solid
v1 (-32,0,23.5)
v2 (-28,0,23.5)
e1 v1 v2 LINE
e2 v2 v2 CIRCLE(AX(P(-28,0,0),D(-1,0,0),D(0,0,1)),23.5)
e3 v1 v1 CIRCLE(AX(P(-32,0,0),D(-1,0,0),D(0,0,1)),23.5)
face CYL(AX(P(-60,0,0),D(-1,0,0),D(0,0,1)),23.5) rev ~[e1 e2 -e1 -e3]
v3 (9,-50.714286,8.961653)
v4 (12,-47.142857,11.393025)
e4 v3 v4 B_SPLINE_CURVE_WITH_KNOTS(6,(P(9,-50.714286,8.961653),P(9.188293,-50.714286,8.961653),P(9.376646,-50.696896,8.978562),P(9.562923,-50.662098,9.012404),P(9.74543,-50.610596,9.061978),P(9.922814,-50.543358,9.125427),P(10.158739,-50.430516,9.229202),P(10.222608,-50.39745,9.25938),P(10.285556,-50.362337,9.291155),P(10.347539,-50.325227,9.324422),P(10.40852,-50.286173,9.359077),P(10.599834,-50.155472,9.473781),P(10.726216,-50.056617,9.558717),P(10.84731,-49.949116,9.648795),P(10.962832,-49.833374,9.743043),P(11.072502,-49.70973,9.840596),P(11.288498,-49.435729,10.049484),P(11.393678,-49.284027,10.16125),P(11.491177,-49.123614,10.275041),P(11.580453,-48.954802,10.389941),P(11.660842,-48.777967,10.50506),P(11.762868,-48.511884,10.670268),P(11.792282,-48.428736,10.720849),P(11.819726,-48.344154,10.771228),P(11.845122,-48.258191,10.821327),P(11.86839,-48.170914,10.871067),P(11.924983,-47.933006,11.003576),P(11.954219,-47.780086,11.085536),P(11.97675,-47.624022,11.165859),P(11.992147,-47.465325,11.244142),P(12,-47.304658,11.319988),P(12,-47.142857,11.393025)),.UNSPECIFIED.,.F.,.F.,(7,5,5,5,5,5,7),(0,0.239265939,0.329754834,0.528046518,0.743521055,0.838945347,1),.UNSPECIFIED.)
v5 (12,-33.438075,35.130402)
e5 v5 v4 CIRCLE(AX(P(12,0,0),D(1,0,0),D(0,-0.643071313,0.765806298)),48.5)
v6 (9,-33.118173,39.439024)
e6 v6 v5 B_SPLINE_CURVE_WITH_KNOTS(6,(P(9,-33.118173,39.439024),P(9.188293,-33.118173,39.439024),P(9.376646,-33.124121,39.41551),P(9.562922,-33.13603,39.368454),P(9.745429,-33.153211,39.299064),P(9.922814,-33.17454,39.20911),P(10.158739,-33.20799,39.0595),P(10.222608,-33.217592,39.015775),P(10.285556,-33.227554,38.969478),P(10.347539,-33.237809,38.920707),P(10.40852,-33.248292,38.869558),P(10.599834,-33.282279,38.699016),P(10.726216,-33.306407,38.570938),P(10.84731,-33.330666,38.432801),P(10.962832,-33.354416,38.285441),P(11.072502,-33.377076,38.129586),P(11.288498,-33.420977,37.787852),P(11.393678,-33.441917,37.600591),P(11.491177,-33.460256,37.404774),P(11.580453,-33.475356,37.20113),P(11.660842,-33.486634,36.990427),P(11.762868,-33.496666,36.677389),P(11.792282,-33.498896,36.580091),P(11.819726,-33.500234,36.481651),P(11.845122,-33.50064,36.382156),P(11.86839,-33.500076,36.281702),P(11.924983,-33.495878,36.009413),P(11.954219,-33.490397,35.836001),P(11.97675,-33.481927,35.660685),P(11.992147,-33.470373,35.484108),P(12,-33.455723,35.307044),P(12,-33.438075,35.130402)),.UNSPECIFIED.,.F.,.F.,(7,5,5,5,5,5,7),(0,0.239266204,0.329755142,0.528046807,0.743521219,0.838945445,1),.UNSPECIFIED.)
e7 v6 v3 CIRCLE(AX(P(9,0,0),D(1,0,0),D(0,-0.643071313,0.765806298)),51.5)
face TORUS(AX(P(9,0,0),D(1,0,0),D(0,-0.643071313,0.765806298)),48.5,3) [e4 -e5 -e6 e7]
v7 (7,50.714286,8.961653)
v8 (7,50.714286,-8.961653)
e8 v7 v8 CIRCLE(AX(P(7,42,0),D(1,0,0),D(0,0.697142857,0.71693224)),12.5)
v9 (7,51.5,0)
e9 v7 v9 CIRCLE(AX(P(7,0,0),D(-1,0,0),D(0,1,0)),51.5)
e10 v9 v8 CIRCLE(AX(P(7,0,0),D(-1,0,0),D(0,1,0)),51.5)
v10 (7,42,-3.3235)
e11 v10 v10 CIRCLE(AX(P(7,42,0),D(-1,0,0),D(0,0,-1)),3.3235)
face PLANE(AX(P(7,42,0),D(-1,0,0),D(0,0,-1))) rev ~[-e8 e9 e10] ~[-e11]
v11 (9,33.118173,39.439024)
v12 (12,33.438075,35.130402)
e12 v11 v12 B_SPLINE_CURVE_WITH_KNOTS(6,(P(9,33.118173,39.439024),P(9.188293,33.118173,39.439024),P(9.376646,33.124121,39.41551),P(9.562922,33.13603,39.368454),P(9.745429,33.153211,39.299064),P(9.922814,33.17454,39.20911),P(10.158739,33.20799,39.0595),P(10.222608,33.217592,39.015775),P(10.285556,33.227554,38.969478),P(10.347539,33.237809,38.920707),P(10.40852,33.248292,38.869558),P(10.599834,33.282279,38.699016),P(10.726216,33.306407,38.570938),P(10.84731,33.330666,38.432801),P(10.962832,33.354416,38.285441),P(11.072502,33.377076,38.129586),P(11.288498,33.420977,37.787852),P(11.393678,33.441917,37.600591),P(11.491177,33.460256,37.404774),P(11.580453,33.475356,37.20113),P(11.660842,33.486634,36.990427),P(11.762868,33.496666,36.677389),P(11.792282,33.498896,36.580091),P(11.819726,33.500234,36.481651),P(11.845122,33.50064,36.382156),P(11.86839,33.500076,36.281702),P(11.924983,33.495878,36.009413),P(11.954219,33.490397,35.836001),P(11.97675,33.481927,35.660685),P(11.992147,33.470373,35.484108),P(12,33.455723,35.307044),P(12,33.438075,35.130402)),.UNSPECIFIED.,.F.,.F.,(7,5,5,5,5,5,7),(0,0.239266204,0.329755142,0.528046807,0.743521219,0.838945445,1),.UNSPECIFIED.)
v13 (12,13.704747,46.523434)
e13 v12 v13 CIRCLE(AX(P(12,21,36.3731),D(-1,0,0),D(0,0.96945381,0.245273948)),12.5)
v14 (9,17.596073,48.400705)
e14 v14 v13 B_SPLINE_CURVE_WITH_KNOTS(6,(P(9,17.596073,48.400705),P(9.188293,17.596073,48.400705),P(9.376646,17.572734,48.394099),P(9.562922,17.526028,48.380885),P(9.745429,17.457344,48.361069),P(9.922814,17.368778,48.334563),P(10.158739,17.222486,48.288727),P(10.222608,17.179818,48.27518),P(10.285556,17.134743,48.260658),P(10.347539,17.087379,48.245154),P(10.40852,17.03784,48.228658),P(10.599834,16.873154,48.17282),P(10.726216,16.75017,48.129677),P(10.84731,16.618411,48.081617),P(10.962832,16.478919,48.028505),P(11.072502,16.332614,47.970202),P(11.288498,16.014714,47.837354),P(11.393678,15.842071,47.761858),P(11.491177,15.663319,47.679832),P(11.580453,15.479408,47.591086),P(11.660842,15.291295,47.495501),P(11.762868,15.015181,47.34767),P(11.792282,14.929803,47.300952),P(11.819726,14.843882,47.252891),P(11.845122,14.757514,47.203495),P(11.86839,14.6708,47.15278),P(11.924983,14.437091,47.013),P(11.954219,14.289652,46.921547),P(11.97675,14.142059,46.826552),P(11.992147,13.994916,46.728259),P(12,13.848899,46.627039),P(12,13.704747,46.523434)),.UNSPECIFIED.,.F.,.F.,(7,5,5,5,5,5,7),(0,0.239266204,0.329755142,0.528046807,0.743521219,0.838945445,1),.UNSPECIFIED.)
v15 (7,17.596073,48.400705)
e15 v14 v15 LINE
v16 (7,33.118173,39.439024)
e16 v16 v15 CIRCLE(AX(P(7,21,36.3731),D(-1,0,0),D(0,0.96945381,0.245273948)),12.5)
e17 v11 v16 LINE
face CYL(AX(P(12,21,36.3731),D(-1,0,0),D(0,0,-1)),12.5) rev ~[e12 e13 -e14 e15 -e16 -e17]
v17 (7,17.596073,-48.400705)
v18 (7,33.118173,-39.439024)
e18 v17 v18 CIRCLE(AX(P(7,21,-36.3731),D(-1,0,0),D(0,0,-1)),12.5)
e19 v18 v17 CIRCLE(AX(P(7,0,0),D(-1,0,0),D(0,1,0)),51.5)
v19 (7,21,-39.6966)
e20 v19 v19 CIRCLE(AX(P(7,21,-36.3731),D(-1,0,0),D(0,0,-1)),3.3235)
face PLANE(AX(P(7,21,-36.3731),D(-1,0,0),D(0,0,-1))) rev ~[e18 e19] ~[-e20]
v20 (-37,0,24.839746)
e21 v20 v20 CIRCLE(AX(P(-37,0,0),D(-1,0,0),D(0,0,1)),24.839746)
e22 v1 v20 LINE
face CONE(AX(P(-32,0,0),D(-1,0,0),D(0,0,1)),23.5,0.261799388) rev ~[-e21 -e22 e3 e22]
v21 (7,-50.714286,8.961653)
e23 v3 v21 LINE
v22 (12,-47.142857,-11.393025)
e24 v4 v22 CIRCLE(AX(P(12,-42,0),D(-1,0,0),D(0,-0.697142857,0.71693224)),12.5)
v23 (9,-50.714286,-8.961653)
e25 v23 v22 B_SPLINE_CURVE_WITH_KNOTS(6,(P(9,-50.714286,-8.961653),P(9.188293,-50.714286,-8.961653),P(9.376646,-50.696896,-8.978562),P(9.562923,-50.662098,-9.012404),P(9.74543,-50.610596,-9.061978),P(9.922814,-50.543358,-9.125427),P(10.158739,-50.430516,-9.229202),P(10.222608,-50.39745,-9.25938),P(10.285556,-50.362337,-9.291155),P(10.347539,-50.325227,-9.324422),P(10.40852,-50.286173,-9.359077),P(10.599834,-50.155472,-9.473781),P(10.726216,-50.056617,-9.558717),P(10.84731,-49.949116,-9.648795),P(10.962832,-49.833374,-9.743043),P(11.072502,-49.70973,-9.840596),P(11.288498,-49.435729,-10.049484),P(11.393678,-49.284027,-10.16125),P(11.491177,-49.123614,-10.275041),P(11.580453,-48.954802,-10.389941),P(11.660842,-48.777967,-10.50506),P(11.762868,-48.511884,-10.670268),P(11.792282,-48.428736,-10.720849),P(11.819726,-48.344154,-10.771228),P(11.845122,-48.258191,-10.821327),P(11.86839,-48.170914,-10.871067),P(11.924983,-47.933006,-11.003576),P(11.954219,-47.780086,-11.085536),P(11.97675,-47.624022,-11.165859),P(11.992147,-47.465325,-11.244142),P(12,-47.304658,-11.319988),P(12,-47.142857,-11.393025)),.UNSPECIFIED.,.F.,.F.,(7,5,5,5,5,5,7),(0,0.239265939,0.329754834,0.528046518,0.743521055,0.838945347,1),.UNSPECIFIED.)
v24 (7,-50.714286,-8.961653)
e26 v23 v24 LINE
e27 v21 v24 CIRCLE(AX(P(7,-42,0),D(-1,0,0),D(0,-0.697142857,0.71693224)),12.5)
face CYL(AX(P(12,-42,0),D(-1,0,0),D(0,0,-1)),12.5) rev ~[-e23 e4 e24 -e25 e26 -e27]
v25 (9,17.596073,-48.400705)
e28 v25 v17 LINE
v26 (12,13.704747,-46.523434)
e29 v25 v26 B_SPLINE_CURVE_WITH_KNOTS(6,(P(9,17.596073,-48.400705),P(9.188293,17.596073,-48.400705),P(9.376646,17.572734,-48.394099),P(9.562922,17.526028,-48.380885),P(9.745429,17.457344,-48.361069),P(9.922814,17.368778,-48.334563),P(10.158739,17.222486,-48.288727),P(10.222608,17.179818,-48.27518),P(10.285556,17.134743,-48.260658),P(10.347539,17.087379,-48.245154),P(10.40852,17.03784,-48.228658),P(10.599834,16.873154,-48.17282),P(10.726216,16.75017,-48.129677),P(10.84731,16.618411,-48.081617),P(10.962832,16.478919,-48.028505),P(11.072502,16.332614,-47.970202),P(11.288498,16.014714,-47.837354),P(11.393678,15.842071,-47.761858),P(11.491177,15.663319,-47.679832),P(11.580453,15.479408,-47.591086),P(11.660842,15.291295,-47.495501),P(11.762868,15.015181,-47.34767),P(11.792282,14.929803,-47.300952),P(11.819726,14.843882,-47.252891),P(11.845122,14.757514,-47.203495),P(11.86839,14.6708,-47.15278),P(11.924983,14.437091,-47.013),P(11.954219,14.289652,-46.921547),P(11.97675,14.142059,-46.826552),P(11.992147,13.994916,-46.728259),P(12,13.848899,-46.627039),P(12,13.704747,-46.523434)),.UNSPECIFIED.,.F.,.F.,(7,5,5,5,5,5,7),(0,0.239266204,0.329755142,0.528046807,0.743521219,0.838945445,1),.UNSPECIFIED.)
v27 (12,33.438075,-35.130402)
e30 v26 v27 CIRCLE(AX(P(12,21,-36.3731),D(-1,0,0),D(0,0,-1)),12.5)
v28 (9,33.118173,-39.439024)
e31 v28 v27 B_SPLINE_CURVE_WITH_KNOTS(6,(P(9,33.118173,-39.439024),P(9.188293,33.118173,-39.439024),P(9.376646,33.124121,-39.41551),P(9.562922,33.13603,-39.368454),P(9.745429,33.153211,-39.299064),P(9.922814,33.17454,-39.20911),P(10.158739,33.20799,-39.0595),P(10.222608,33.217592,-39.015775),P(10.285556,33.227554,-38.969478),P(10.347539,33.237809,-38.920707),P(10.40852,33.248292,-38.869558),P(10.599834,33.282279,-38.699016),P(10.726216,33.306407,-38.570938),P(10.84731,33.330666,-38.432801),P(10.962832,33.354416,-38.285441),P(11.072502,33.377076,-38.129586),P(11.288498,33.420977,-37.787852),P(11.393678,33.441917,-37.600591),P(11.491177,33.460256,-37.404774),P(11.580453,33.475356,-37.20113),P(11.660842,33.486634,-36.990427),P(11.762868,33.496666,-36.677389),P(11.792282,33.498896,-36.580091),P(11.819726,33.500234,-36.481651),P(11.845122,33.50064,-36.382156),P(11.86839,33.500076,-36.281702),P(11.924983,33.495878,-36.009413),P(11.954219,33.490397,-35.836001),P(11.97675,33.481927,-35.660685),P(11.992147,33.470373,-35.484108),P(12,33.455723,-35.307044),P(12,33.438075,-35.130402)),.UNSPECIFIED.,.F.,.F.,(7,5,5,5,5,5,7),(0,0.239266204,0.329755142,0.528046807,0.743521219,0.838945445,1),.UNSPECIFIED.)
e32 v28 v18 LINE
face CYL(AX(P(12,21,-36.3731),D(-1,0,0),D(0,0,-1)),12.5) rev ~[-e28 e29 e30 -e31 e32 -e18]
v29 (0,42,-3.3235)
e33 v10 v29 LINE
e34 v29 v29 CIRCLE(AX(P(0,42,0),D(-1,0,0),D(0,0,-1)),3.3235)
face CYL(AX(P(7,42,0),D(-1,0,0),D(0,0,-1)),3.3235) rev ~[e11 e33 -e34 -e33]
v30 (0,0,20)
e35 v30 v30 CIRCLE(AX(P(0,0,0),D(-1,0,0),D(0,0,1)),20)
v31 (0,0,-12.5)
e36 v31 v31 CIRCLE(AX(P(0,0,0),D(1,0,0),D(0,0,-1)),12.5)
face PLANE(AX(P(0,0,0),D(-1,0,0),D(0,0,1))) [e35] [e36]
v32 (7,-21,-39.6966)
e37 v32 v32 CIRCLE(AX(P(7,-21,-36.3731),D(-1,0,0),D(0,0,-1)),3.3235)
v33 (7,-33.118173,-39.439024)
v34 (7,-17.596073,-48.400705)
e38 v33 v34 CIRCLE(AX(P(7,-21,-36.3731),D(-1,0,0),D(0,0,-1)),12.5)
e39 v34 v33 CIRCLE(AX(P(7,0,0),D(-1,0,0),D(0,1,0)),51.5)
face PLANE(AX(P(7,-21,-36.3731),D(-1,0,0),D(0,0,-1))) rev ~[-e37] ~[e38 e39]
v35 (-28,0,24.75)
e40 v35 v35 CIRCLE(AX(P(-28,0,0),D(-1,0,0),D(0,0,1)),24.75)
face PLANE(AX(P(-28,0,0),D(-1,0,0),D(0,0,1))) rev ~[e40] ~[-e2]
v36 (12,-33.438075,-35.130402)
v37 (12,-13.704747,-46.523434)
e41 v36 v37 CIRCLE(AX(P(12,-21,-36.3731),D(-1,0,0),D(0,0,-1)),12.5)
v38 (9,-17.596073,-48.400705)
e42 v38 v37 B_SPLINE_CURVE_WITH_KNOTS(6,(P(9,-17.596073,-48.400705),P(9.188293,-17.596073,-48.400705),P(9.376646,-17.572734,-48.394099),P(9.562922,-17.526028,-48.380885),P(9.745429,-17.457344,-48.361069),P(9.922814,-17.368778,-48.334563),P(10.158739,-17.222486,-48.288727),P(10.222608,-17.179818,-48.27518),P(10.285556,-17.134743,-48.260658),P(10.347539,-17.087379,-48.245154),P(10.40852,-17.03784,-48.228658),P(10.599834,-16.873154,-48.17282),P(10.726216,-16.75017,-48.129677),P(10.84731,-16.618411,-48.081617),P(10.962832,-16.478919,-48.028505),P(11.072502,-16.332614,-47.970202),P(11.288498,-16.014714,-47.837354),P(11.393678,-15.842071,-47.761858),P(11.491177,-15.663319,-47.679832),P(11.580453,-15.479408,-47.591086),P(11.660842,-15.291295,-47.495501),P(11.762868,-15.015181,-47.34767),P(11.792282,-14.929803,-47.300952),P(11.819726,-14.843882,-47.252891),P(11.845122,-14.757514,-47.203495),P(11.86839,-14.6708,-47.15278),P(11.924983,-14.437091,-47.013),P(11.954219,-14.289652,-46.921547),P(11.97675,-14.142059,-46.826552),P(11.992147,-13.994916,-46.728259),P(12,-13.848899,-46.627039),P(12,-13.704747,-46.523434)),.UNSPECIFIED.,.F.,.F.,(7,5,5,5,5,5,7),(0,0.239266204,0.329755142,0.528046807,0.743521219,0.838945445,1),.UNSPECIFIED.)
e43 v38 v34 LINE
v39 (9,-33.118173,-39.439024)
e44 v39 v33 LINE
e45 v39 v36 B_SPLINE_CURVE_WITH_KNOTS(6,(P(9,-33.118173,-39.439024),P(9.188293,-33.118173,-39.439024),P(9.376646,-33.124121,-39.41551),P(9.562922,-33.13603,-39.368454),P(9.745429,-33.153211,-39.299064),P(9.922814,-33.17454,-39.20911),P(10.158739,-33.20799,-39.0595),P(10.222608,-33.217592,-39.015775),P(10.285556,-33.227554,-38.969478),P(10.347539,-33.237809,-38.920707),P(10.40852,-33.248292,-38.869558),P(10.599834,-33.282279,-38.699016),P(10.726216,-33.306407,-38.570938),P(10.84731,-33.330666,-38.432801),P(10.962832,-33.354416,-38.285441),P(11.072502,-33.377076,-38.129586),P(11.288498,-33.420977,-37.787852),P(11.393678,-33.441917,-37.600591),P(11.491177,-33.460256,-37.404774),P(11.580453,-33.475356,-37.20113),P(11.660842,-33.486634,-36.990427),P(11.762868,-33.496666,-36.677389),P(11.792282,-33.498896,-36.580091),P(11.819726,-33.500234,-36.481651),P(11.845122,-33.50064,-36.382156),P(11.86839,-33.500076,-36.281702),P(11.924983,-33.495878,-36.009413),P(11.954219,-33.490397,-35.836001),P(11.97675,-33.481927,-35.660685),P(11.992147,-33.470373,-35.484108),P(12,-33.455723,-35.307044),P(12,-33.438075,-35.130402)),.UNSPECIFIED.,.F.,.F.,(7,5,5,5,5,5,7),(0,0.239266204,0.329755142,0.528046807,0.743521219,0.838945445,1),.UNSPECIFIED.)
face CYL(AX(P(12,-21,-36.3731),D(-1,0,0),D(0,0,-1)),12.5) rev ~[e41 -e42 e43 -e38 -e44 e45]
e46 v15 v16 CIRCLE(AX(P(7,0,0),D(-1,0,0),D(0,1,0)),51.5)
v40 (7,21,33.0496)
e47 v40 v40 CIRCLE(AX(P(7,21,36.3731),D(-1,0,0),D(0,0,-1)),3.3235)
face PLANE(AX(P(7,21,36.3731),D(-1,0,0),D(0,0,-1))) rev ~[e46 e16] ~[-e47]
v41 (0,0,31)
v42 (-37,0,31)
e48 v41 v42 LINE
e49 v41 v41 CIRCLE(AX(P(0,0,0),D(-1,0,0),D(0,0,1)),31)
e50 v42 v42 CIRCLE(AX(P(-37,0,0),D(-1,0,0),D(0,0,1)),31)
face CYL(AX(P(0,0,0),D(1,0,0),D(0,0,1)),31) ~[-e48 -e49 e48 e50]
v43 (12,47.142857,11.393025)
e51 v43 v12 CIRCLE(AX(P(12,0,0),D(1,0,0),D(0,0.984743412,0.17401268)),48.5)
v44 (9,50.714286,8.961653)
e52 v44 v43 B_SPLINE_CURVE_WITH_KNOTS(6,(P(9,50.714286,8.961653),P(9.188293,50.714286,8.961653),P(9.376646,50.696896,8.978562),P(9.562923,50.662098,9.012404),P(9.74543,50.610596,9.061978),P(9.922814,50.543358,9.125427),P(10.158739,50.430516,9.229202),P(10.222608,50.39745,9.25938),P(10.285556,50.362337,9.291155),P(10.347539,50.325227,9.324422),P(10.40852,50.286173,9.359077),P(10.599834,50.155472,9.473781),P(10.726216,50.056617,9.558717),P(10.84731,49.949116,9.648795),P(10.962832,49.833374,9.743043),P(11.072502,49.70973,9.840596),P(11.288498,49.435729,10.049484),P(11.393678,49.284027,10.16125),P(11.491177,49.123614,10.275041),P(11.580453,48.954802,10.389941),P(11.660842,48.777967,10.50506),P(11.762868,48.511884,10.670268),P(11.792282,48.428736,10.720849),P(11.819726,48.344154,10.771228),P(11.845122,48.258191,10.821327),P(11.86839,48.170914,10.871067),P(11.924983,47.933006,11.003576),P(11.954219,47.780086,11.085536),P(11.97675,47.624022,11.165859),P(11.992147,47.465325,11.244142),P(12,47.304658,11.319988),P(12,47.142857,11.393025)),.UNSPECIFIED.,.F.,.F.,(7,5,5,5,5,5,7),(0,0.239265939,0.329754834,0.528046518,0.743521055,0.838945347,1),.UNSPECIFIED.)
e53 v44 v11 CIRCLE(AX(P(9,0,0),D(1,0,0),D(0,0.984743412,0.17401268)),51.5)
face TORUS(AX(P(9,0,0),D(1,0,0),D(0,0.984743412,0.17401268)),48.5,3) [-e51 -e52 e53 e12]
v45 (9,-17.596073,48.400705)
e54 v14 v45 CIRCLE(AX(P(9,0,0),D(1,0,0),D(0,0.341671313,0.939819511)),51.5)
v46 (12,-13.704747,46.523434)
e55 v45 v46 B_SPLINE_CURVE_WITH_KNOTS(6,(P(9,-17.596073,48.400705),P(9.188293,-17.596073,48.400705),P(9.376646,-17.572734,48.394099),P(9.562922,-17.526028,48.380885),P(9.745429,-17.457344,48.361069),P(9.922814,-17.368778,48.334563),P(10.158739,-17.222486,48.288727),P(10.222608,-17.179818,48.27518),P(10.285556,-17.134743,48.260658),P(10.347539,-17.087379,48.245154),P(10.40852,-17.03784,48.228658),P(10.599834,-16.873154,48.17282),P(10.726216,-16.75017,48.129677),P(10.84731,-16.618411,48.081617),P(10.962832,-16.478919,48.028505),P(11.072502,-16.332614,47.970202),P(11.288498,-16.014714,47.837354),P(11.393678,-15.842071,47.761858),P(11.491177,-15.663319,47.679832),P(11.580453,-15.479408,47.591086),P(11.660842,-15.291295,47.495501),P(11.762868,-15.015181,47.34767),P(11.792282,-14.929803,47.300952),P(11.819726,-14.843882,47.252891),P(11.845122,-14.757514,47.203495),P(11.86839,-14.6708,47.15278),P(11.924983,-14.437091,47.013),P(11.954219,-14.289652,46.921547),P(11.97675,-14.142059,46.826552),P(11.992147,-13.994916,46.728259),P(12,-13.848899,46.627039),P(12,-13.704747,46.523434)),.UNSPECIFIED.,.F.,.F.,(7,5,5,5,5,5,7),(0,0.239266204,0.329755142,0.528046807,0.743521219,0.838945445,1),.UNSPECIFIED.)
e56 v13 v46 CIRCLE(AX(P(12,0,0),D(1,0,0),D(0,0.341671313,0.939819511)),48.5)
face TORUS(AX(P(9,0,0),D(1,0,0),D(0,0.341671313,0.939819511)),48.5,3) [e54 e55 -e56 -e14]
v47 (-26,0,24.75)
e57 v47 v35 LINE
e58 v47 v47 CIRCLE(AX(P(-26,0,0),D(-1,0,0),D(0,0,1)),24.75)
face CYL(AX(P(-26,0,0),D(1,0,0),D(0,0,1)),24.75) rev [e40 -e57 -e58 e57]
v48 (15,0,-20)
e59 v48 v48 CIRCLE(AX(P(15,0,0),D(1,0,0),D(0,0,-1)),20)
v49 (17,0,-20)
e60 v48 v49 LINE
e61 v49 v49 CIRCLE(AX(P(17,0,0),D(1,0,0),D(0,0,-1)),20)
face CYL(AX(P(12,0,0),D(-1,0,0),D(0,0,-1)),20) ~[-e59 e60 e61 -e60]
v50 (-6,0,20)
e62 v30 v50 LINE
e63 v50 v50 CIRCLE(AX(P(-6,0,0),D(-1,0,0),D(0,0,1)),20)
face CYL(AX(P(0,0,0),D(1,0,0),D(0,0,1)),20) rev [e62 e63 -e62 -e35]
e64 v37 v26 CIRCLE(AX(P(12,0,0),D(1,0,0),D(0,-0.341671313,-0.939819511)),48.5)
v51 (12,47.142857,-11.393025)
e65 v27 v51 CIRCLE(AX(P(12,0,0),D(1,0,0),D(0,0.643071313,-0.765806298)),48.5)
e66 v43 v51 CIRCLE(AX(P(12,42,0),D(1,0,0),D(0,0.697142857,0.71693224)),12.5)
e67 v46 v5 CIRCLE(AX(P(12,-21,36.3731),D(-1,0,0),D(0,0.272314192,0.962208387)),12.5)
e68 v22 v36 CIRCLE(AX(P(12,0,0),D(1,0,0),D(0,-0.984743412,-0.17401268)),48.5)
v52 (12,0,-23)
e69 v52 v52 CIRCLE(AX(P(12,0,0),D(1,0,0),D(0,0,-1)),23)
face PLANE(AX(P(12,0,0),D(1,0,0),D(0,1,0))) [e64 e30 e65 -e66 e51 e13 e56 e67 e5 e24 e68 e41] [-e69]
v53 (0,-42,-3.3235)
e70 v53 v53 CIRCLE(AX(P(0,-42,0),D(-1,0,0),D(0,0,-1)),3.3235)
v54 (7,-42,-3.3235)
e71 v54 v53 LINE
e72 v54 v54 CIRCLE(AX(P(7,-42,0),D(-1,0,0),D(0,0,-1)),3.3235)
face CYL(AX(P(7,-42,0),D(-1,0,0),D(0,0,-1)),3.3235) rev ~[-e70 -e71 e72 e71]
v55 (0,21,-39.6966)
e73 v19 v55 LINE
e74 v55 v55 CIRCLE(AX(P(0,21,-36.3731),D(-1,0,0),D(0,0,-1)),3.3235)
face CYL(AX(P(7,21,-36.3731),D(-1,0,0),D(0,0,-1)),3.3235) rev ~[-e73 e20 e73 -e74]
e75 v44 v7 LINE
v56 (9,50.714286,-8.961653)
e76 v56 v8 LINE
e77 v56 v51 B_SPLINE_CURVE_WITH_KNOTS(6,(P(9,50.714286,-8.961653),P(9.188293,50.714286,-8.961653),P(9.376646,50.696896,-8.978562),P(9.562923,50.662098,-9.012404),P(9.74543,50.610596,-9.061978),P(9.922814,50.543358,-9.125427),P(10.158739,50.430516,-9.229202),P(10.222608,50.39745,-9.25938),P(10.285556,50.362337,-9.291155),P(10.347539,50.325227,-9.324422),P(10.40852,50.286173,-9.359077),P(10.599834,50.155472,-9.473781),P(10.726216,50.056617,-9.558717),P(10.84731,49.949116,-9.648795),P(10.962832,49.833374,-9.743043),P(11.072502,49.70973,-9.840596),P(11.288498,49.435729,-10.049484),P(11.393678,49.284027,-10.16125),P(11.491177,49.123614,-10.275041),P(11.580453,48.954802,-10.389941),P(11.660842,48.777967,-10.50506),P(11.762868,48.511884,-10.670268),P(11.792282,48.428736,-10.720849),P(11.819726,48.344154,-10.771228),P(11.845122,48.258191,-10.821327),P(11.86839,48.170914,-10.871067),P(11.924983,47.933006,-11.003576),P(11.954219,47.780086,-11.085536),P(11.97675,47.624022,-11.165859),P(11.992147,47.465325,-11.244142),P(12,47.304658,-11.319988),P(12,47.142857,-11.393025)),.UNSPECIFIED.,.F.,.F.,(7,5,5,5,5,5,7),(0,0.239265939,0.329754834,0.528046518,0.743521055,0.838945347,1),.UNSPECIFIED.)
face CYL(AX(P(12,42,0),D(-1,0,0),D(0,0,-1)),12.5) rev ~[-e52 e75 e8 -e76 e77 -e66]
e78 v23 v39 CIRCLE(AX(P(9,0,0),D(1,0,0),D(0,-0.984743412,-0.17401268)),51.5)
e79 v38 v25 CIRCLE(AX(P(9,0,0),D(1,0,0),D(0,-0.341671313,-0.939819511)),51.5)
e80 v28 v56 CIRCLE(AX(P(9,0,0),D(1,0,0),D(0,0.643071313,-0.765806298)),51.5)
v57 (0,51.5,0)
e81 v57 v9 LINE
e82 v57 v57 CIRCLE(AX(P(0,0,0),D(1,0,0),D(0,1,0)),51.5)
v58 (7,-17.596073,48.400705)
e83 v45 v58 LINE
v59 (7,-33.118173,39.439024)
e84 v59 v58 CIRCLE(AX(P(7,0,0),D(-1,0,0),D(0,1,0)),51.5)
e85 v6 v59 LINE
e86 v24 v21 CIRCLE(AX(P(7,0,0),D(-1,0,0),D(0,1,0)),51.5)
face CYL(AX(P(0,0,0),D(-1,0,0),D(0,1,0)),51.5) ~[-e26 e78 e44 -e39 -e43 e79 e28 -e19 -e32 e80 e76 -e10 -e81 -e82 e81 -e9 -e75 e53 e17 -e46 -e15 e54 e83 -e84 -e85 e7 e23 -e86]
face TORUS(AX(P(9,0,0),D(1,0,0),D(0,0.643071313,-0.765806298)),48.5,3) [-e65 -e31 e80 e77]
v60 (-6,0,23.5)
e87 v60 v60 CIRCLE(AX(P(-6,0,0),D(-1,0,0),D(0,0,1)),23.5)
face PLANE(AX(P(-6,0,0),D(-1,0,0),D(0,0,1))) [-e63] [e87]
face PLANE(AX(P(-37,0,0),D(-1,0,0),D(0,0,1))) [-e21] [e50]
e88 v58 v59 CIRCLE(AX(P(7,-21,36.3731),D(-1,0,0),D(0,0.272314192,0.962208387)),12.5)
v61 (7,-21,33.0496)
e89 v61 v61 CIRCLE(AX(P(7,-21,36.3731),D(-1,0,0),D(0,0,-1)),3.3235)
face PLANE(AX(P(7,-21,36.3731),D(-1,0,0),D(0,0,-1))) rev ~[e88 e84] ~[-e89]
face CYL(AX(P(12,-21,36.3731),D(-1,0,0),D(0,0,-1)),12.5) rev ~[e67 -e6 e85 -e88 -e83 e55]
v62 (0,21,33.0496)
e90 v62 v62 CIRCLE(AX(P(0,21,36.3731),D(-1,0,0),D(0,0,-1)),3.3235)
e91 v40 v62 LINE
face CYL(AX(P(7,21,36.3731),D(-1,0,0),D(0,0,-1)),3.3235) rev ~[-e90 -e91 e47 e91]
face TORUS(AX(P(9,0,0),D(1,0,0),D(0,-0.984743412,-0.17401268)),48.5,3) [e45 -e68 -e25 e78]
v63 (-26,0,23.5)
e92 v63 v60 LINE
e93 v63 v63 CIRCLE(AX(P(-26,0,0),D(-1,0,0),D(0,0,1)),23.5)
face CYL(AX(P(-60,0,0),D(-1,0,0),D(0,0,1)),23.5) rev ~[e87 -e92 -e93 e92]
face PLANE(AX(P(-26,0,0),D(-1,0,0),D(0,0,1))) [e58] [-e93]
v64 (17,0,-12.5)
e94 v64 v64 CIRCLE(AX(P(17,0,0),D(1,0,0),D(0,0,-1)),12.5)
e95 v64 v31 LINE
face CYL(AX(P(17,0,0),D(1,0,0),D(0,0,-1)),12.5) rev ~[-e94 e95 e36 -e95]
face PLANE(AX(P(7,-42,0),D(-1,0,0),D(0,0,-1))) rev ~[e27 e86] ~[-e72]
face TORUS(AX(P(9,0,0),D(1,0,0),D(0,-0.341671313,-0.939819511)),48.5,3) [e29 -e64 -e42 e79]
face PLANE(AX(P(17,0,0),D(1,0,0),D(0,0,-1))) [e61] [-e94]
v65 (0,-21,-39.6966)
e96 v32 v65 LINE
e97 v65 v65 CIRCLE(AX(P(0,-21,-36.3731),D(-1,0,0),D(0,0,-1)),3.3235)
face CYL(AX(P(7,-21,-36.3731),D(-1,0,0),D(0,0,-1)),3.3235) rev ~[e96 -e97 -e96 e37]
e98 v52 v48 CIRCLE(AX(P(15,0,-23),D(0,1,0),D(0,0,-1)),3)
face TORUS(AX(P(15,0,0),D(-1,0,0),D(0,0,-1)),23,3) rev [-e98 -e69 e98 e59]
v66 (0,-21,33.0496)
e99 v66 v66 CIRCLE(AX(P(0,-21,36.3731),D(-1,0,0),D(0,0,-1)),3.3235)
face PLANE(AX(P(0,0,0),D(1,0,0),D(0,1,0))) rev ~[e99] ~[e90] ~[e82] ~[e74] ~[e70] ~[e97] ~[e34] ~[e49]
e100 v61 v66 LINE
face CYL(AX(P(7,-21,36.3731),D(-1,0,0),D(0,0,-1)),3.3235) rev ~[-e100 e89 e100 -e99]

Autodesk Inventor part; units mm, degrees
ref_plane "YZ Plane" through (0, 0, 0) normal (1, 0, 0) x (0, 1, 0)
ref_plane "XZ Plane" through (0, 0, 0) normal (0, 1, 0) x (-1, 0, 0)
sketch "Sketch1" plane through (0, 0, 0) normal (1, 0, 0) x (0, 1, 0)
  circle A0 centre (0, 0) radius 51.5
  circle A1 centre (0, 0) radius 31
  circle A2 centre (0, 0) radius 11
  dimension "d0" = 103
  dimension "d2" = 62
  dimension "d3" = 22
extrude "Extrusion1" add sketch "Sketch1" along normal blind 12 contours A0 | A1 | A2
sketch "Sketch3" plane through (0, 0, 0) normal (-1, 0, 0) x (0, 0, 1)
  circle A0 centre (0, 0) radius 11 projected
  circle A1 centre (0, 0) radius 31
  dimension "d13" = 62
extrude "Extrusion2" add sketch "Sketch3" along normal blind 60 contours A0 | A1
sketch "Sketch4" plane through (12, 0, 0) normal (1, 0, 0) x (0, 0, -1)
  circle A0 centre (0, 0) radius 20
  dimension "d16" = 40
extrude "Extrusion3" add sketch "Sketch4" along normal blind 5
sketch "Sketch6" plane through (12, 0, 0) normal (1, 0, 0) x (0, 0, -1)
  circle A0 centre (0, 0) radius 11 projected
  circle A1 centre (0, 0) radius 42
  line L0 (0, 0) -> (0, 42)
  point P0 (0.0095, 11)
  point P1 (0.0095, -11)
  point P2 (-36.3731, 21)
  point P3 (-36.3731, -21)
  point P4 (0, -42)
  point P5 (36.3731, -21)
  point P6 (36.3731, 21)
  dimension "d30" = 84
  dimension "d28" = 360
hole "Hole3" at (12, 42, 0) at (12, 21, 36.3731) at (12, -21, 36.3731) at (12, -42, 0) at (12, -21, -36.3731) at (12, 21, -36.3731) direction (-1, 0, 0) diameter 6.647 end through all counterbore diameter 25 counterbore depth 5 thread size "M8x1.25" class "6H" standard "ISO Metric profile"
thread "Thread1" size "M8x1.25" class "6H" standard "ANSI Metric M Profile" full length
sketch "Sketch7" plane through (17, 0, 0) normal (1, 0, 0) x (0, 0, -1)
  circle A0 centre (0, 0) radius 20 projected
  circle A1 centre (0, 0) radius 12.5
  dimension "d40" = 25
extrude "Extrusion4" cut sketch "Sketch7" against normal blind 100 contours A1
fillet "Fillet1" radius 3 6 edges at (12, 44.6003, -25.75) (12, 0, -51.5) (12, -44.6003, -25.75) (12, -44.6003, 25.75) (12, 0, 51.5) (12, 44.6003, 25.75)
fillet "Fillet2" radius 3 1 edges at (12, 0, 20)
sketch "Sketch8" plane through (-60, 0, 0) normal (-1, 0, 0) x (0, 0, 1)
  circle A0 centre (0, 0) radius 23.5
  dimension "d45" = 47
extrude "Extrusion5" cut sketch "Sketch8" against normal blind 60
sketch "Sketch9" plane through (-60, 0, 0) normal (-1, 0, 0) x (0, 0, 1)
  circle A0 centre (0, 0) radius 11 projected
  circle A1 centre (0, 0) radius 31
  circle A2 centre (0, 0) radius 31 projected
extrude "Extrusion6" cut sketch "Sketch9" against normal blind 23 contours A0 | A1
chamfer "Chamfer1" distance 5 angle 15 1 edges at (-37, 0, -23.5) measured on face at (-12.3333, -1.891, 23.4238)
sketch "Sketch10" plane through (0, 0, 0) normal (-1, 0, 0) x (0, 0, 1)
  circle A0 centre (0, 0) radius 20
  circle A1 centre (0, 0) radius 23.5
  dimension "d60" = 40
extrude "Extrusion7" add sketch "Sketch10" along normal blind 6
ref_plane "Work Plane1" through (-26, 0, 0) normal (-1, 0, 0) x (0, 0, 1)
sketch "Sketch11" plane through (-26, 0, 0) normal (-1, 0, 0) x (0, 0, 1)
  circle A0 centre (0, 0) radius 24.75
  dimension "d64" = 49.5
extrude "Extrusion8" cut sketch "Sketch11" along normal blind 2
properties part number "END CAP" material "Iron, Cast"
